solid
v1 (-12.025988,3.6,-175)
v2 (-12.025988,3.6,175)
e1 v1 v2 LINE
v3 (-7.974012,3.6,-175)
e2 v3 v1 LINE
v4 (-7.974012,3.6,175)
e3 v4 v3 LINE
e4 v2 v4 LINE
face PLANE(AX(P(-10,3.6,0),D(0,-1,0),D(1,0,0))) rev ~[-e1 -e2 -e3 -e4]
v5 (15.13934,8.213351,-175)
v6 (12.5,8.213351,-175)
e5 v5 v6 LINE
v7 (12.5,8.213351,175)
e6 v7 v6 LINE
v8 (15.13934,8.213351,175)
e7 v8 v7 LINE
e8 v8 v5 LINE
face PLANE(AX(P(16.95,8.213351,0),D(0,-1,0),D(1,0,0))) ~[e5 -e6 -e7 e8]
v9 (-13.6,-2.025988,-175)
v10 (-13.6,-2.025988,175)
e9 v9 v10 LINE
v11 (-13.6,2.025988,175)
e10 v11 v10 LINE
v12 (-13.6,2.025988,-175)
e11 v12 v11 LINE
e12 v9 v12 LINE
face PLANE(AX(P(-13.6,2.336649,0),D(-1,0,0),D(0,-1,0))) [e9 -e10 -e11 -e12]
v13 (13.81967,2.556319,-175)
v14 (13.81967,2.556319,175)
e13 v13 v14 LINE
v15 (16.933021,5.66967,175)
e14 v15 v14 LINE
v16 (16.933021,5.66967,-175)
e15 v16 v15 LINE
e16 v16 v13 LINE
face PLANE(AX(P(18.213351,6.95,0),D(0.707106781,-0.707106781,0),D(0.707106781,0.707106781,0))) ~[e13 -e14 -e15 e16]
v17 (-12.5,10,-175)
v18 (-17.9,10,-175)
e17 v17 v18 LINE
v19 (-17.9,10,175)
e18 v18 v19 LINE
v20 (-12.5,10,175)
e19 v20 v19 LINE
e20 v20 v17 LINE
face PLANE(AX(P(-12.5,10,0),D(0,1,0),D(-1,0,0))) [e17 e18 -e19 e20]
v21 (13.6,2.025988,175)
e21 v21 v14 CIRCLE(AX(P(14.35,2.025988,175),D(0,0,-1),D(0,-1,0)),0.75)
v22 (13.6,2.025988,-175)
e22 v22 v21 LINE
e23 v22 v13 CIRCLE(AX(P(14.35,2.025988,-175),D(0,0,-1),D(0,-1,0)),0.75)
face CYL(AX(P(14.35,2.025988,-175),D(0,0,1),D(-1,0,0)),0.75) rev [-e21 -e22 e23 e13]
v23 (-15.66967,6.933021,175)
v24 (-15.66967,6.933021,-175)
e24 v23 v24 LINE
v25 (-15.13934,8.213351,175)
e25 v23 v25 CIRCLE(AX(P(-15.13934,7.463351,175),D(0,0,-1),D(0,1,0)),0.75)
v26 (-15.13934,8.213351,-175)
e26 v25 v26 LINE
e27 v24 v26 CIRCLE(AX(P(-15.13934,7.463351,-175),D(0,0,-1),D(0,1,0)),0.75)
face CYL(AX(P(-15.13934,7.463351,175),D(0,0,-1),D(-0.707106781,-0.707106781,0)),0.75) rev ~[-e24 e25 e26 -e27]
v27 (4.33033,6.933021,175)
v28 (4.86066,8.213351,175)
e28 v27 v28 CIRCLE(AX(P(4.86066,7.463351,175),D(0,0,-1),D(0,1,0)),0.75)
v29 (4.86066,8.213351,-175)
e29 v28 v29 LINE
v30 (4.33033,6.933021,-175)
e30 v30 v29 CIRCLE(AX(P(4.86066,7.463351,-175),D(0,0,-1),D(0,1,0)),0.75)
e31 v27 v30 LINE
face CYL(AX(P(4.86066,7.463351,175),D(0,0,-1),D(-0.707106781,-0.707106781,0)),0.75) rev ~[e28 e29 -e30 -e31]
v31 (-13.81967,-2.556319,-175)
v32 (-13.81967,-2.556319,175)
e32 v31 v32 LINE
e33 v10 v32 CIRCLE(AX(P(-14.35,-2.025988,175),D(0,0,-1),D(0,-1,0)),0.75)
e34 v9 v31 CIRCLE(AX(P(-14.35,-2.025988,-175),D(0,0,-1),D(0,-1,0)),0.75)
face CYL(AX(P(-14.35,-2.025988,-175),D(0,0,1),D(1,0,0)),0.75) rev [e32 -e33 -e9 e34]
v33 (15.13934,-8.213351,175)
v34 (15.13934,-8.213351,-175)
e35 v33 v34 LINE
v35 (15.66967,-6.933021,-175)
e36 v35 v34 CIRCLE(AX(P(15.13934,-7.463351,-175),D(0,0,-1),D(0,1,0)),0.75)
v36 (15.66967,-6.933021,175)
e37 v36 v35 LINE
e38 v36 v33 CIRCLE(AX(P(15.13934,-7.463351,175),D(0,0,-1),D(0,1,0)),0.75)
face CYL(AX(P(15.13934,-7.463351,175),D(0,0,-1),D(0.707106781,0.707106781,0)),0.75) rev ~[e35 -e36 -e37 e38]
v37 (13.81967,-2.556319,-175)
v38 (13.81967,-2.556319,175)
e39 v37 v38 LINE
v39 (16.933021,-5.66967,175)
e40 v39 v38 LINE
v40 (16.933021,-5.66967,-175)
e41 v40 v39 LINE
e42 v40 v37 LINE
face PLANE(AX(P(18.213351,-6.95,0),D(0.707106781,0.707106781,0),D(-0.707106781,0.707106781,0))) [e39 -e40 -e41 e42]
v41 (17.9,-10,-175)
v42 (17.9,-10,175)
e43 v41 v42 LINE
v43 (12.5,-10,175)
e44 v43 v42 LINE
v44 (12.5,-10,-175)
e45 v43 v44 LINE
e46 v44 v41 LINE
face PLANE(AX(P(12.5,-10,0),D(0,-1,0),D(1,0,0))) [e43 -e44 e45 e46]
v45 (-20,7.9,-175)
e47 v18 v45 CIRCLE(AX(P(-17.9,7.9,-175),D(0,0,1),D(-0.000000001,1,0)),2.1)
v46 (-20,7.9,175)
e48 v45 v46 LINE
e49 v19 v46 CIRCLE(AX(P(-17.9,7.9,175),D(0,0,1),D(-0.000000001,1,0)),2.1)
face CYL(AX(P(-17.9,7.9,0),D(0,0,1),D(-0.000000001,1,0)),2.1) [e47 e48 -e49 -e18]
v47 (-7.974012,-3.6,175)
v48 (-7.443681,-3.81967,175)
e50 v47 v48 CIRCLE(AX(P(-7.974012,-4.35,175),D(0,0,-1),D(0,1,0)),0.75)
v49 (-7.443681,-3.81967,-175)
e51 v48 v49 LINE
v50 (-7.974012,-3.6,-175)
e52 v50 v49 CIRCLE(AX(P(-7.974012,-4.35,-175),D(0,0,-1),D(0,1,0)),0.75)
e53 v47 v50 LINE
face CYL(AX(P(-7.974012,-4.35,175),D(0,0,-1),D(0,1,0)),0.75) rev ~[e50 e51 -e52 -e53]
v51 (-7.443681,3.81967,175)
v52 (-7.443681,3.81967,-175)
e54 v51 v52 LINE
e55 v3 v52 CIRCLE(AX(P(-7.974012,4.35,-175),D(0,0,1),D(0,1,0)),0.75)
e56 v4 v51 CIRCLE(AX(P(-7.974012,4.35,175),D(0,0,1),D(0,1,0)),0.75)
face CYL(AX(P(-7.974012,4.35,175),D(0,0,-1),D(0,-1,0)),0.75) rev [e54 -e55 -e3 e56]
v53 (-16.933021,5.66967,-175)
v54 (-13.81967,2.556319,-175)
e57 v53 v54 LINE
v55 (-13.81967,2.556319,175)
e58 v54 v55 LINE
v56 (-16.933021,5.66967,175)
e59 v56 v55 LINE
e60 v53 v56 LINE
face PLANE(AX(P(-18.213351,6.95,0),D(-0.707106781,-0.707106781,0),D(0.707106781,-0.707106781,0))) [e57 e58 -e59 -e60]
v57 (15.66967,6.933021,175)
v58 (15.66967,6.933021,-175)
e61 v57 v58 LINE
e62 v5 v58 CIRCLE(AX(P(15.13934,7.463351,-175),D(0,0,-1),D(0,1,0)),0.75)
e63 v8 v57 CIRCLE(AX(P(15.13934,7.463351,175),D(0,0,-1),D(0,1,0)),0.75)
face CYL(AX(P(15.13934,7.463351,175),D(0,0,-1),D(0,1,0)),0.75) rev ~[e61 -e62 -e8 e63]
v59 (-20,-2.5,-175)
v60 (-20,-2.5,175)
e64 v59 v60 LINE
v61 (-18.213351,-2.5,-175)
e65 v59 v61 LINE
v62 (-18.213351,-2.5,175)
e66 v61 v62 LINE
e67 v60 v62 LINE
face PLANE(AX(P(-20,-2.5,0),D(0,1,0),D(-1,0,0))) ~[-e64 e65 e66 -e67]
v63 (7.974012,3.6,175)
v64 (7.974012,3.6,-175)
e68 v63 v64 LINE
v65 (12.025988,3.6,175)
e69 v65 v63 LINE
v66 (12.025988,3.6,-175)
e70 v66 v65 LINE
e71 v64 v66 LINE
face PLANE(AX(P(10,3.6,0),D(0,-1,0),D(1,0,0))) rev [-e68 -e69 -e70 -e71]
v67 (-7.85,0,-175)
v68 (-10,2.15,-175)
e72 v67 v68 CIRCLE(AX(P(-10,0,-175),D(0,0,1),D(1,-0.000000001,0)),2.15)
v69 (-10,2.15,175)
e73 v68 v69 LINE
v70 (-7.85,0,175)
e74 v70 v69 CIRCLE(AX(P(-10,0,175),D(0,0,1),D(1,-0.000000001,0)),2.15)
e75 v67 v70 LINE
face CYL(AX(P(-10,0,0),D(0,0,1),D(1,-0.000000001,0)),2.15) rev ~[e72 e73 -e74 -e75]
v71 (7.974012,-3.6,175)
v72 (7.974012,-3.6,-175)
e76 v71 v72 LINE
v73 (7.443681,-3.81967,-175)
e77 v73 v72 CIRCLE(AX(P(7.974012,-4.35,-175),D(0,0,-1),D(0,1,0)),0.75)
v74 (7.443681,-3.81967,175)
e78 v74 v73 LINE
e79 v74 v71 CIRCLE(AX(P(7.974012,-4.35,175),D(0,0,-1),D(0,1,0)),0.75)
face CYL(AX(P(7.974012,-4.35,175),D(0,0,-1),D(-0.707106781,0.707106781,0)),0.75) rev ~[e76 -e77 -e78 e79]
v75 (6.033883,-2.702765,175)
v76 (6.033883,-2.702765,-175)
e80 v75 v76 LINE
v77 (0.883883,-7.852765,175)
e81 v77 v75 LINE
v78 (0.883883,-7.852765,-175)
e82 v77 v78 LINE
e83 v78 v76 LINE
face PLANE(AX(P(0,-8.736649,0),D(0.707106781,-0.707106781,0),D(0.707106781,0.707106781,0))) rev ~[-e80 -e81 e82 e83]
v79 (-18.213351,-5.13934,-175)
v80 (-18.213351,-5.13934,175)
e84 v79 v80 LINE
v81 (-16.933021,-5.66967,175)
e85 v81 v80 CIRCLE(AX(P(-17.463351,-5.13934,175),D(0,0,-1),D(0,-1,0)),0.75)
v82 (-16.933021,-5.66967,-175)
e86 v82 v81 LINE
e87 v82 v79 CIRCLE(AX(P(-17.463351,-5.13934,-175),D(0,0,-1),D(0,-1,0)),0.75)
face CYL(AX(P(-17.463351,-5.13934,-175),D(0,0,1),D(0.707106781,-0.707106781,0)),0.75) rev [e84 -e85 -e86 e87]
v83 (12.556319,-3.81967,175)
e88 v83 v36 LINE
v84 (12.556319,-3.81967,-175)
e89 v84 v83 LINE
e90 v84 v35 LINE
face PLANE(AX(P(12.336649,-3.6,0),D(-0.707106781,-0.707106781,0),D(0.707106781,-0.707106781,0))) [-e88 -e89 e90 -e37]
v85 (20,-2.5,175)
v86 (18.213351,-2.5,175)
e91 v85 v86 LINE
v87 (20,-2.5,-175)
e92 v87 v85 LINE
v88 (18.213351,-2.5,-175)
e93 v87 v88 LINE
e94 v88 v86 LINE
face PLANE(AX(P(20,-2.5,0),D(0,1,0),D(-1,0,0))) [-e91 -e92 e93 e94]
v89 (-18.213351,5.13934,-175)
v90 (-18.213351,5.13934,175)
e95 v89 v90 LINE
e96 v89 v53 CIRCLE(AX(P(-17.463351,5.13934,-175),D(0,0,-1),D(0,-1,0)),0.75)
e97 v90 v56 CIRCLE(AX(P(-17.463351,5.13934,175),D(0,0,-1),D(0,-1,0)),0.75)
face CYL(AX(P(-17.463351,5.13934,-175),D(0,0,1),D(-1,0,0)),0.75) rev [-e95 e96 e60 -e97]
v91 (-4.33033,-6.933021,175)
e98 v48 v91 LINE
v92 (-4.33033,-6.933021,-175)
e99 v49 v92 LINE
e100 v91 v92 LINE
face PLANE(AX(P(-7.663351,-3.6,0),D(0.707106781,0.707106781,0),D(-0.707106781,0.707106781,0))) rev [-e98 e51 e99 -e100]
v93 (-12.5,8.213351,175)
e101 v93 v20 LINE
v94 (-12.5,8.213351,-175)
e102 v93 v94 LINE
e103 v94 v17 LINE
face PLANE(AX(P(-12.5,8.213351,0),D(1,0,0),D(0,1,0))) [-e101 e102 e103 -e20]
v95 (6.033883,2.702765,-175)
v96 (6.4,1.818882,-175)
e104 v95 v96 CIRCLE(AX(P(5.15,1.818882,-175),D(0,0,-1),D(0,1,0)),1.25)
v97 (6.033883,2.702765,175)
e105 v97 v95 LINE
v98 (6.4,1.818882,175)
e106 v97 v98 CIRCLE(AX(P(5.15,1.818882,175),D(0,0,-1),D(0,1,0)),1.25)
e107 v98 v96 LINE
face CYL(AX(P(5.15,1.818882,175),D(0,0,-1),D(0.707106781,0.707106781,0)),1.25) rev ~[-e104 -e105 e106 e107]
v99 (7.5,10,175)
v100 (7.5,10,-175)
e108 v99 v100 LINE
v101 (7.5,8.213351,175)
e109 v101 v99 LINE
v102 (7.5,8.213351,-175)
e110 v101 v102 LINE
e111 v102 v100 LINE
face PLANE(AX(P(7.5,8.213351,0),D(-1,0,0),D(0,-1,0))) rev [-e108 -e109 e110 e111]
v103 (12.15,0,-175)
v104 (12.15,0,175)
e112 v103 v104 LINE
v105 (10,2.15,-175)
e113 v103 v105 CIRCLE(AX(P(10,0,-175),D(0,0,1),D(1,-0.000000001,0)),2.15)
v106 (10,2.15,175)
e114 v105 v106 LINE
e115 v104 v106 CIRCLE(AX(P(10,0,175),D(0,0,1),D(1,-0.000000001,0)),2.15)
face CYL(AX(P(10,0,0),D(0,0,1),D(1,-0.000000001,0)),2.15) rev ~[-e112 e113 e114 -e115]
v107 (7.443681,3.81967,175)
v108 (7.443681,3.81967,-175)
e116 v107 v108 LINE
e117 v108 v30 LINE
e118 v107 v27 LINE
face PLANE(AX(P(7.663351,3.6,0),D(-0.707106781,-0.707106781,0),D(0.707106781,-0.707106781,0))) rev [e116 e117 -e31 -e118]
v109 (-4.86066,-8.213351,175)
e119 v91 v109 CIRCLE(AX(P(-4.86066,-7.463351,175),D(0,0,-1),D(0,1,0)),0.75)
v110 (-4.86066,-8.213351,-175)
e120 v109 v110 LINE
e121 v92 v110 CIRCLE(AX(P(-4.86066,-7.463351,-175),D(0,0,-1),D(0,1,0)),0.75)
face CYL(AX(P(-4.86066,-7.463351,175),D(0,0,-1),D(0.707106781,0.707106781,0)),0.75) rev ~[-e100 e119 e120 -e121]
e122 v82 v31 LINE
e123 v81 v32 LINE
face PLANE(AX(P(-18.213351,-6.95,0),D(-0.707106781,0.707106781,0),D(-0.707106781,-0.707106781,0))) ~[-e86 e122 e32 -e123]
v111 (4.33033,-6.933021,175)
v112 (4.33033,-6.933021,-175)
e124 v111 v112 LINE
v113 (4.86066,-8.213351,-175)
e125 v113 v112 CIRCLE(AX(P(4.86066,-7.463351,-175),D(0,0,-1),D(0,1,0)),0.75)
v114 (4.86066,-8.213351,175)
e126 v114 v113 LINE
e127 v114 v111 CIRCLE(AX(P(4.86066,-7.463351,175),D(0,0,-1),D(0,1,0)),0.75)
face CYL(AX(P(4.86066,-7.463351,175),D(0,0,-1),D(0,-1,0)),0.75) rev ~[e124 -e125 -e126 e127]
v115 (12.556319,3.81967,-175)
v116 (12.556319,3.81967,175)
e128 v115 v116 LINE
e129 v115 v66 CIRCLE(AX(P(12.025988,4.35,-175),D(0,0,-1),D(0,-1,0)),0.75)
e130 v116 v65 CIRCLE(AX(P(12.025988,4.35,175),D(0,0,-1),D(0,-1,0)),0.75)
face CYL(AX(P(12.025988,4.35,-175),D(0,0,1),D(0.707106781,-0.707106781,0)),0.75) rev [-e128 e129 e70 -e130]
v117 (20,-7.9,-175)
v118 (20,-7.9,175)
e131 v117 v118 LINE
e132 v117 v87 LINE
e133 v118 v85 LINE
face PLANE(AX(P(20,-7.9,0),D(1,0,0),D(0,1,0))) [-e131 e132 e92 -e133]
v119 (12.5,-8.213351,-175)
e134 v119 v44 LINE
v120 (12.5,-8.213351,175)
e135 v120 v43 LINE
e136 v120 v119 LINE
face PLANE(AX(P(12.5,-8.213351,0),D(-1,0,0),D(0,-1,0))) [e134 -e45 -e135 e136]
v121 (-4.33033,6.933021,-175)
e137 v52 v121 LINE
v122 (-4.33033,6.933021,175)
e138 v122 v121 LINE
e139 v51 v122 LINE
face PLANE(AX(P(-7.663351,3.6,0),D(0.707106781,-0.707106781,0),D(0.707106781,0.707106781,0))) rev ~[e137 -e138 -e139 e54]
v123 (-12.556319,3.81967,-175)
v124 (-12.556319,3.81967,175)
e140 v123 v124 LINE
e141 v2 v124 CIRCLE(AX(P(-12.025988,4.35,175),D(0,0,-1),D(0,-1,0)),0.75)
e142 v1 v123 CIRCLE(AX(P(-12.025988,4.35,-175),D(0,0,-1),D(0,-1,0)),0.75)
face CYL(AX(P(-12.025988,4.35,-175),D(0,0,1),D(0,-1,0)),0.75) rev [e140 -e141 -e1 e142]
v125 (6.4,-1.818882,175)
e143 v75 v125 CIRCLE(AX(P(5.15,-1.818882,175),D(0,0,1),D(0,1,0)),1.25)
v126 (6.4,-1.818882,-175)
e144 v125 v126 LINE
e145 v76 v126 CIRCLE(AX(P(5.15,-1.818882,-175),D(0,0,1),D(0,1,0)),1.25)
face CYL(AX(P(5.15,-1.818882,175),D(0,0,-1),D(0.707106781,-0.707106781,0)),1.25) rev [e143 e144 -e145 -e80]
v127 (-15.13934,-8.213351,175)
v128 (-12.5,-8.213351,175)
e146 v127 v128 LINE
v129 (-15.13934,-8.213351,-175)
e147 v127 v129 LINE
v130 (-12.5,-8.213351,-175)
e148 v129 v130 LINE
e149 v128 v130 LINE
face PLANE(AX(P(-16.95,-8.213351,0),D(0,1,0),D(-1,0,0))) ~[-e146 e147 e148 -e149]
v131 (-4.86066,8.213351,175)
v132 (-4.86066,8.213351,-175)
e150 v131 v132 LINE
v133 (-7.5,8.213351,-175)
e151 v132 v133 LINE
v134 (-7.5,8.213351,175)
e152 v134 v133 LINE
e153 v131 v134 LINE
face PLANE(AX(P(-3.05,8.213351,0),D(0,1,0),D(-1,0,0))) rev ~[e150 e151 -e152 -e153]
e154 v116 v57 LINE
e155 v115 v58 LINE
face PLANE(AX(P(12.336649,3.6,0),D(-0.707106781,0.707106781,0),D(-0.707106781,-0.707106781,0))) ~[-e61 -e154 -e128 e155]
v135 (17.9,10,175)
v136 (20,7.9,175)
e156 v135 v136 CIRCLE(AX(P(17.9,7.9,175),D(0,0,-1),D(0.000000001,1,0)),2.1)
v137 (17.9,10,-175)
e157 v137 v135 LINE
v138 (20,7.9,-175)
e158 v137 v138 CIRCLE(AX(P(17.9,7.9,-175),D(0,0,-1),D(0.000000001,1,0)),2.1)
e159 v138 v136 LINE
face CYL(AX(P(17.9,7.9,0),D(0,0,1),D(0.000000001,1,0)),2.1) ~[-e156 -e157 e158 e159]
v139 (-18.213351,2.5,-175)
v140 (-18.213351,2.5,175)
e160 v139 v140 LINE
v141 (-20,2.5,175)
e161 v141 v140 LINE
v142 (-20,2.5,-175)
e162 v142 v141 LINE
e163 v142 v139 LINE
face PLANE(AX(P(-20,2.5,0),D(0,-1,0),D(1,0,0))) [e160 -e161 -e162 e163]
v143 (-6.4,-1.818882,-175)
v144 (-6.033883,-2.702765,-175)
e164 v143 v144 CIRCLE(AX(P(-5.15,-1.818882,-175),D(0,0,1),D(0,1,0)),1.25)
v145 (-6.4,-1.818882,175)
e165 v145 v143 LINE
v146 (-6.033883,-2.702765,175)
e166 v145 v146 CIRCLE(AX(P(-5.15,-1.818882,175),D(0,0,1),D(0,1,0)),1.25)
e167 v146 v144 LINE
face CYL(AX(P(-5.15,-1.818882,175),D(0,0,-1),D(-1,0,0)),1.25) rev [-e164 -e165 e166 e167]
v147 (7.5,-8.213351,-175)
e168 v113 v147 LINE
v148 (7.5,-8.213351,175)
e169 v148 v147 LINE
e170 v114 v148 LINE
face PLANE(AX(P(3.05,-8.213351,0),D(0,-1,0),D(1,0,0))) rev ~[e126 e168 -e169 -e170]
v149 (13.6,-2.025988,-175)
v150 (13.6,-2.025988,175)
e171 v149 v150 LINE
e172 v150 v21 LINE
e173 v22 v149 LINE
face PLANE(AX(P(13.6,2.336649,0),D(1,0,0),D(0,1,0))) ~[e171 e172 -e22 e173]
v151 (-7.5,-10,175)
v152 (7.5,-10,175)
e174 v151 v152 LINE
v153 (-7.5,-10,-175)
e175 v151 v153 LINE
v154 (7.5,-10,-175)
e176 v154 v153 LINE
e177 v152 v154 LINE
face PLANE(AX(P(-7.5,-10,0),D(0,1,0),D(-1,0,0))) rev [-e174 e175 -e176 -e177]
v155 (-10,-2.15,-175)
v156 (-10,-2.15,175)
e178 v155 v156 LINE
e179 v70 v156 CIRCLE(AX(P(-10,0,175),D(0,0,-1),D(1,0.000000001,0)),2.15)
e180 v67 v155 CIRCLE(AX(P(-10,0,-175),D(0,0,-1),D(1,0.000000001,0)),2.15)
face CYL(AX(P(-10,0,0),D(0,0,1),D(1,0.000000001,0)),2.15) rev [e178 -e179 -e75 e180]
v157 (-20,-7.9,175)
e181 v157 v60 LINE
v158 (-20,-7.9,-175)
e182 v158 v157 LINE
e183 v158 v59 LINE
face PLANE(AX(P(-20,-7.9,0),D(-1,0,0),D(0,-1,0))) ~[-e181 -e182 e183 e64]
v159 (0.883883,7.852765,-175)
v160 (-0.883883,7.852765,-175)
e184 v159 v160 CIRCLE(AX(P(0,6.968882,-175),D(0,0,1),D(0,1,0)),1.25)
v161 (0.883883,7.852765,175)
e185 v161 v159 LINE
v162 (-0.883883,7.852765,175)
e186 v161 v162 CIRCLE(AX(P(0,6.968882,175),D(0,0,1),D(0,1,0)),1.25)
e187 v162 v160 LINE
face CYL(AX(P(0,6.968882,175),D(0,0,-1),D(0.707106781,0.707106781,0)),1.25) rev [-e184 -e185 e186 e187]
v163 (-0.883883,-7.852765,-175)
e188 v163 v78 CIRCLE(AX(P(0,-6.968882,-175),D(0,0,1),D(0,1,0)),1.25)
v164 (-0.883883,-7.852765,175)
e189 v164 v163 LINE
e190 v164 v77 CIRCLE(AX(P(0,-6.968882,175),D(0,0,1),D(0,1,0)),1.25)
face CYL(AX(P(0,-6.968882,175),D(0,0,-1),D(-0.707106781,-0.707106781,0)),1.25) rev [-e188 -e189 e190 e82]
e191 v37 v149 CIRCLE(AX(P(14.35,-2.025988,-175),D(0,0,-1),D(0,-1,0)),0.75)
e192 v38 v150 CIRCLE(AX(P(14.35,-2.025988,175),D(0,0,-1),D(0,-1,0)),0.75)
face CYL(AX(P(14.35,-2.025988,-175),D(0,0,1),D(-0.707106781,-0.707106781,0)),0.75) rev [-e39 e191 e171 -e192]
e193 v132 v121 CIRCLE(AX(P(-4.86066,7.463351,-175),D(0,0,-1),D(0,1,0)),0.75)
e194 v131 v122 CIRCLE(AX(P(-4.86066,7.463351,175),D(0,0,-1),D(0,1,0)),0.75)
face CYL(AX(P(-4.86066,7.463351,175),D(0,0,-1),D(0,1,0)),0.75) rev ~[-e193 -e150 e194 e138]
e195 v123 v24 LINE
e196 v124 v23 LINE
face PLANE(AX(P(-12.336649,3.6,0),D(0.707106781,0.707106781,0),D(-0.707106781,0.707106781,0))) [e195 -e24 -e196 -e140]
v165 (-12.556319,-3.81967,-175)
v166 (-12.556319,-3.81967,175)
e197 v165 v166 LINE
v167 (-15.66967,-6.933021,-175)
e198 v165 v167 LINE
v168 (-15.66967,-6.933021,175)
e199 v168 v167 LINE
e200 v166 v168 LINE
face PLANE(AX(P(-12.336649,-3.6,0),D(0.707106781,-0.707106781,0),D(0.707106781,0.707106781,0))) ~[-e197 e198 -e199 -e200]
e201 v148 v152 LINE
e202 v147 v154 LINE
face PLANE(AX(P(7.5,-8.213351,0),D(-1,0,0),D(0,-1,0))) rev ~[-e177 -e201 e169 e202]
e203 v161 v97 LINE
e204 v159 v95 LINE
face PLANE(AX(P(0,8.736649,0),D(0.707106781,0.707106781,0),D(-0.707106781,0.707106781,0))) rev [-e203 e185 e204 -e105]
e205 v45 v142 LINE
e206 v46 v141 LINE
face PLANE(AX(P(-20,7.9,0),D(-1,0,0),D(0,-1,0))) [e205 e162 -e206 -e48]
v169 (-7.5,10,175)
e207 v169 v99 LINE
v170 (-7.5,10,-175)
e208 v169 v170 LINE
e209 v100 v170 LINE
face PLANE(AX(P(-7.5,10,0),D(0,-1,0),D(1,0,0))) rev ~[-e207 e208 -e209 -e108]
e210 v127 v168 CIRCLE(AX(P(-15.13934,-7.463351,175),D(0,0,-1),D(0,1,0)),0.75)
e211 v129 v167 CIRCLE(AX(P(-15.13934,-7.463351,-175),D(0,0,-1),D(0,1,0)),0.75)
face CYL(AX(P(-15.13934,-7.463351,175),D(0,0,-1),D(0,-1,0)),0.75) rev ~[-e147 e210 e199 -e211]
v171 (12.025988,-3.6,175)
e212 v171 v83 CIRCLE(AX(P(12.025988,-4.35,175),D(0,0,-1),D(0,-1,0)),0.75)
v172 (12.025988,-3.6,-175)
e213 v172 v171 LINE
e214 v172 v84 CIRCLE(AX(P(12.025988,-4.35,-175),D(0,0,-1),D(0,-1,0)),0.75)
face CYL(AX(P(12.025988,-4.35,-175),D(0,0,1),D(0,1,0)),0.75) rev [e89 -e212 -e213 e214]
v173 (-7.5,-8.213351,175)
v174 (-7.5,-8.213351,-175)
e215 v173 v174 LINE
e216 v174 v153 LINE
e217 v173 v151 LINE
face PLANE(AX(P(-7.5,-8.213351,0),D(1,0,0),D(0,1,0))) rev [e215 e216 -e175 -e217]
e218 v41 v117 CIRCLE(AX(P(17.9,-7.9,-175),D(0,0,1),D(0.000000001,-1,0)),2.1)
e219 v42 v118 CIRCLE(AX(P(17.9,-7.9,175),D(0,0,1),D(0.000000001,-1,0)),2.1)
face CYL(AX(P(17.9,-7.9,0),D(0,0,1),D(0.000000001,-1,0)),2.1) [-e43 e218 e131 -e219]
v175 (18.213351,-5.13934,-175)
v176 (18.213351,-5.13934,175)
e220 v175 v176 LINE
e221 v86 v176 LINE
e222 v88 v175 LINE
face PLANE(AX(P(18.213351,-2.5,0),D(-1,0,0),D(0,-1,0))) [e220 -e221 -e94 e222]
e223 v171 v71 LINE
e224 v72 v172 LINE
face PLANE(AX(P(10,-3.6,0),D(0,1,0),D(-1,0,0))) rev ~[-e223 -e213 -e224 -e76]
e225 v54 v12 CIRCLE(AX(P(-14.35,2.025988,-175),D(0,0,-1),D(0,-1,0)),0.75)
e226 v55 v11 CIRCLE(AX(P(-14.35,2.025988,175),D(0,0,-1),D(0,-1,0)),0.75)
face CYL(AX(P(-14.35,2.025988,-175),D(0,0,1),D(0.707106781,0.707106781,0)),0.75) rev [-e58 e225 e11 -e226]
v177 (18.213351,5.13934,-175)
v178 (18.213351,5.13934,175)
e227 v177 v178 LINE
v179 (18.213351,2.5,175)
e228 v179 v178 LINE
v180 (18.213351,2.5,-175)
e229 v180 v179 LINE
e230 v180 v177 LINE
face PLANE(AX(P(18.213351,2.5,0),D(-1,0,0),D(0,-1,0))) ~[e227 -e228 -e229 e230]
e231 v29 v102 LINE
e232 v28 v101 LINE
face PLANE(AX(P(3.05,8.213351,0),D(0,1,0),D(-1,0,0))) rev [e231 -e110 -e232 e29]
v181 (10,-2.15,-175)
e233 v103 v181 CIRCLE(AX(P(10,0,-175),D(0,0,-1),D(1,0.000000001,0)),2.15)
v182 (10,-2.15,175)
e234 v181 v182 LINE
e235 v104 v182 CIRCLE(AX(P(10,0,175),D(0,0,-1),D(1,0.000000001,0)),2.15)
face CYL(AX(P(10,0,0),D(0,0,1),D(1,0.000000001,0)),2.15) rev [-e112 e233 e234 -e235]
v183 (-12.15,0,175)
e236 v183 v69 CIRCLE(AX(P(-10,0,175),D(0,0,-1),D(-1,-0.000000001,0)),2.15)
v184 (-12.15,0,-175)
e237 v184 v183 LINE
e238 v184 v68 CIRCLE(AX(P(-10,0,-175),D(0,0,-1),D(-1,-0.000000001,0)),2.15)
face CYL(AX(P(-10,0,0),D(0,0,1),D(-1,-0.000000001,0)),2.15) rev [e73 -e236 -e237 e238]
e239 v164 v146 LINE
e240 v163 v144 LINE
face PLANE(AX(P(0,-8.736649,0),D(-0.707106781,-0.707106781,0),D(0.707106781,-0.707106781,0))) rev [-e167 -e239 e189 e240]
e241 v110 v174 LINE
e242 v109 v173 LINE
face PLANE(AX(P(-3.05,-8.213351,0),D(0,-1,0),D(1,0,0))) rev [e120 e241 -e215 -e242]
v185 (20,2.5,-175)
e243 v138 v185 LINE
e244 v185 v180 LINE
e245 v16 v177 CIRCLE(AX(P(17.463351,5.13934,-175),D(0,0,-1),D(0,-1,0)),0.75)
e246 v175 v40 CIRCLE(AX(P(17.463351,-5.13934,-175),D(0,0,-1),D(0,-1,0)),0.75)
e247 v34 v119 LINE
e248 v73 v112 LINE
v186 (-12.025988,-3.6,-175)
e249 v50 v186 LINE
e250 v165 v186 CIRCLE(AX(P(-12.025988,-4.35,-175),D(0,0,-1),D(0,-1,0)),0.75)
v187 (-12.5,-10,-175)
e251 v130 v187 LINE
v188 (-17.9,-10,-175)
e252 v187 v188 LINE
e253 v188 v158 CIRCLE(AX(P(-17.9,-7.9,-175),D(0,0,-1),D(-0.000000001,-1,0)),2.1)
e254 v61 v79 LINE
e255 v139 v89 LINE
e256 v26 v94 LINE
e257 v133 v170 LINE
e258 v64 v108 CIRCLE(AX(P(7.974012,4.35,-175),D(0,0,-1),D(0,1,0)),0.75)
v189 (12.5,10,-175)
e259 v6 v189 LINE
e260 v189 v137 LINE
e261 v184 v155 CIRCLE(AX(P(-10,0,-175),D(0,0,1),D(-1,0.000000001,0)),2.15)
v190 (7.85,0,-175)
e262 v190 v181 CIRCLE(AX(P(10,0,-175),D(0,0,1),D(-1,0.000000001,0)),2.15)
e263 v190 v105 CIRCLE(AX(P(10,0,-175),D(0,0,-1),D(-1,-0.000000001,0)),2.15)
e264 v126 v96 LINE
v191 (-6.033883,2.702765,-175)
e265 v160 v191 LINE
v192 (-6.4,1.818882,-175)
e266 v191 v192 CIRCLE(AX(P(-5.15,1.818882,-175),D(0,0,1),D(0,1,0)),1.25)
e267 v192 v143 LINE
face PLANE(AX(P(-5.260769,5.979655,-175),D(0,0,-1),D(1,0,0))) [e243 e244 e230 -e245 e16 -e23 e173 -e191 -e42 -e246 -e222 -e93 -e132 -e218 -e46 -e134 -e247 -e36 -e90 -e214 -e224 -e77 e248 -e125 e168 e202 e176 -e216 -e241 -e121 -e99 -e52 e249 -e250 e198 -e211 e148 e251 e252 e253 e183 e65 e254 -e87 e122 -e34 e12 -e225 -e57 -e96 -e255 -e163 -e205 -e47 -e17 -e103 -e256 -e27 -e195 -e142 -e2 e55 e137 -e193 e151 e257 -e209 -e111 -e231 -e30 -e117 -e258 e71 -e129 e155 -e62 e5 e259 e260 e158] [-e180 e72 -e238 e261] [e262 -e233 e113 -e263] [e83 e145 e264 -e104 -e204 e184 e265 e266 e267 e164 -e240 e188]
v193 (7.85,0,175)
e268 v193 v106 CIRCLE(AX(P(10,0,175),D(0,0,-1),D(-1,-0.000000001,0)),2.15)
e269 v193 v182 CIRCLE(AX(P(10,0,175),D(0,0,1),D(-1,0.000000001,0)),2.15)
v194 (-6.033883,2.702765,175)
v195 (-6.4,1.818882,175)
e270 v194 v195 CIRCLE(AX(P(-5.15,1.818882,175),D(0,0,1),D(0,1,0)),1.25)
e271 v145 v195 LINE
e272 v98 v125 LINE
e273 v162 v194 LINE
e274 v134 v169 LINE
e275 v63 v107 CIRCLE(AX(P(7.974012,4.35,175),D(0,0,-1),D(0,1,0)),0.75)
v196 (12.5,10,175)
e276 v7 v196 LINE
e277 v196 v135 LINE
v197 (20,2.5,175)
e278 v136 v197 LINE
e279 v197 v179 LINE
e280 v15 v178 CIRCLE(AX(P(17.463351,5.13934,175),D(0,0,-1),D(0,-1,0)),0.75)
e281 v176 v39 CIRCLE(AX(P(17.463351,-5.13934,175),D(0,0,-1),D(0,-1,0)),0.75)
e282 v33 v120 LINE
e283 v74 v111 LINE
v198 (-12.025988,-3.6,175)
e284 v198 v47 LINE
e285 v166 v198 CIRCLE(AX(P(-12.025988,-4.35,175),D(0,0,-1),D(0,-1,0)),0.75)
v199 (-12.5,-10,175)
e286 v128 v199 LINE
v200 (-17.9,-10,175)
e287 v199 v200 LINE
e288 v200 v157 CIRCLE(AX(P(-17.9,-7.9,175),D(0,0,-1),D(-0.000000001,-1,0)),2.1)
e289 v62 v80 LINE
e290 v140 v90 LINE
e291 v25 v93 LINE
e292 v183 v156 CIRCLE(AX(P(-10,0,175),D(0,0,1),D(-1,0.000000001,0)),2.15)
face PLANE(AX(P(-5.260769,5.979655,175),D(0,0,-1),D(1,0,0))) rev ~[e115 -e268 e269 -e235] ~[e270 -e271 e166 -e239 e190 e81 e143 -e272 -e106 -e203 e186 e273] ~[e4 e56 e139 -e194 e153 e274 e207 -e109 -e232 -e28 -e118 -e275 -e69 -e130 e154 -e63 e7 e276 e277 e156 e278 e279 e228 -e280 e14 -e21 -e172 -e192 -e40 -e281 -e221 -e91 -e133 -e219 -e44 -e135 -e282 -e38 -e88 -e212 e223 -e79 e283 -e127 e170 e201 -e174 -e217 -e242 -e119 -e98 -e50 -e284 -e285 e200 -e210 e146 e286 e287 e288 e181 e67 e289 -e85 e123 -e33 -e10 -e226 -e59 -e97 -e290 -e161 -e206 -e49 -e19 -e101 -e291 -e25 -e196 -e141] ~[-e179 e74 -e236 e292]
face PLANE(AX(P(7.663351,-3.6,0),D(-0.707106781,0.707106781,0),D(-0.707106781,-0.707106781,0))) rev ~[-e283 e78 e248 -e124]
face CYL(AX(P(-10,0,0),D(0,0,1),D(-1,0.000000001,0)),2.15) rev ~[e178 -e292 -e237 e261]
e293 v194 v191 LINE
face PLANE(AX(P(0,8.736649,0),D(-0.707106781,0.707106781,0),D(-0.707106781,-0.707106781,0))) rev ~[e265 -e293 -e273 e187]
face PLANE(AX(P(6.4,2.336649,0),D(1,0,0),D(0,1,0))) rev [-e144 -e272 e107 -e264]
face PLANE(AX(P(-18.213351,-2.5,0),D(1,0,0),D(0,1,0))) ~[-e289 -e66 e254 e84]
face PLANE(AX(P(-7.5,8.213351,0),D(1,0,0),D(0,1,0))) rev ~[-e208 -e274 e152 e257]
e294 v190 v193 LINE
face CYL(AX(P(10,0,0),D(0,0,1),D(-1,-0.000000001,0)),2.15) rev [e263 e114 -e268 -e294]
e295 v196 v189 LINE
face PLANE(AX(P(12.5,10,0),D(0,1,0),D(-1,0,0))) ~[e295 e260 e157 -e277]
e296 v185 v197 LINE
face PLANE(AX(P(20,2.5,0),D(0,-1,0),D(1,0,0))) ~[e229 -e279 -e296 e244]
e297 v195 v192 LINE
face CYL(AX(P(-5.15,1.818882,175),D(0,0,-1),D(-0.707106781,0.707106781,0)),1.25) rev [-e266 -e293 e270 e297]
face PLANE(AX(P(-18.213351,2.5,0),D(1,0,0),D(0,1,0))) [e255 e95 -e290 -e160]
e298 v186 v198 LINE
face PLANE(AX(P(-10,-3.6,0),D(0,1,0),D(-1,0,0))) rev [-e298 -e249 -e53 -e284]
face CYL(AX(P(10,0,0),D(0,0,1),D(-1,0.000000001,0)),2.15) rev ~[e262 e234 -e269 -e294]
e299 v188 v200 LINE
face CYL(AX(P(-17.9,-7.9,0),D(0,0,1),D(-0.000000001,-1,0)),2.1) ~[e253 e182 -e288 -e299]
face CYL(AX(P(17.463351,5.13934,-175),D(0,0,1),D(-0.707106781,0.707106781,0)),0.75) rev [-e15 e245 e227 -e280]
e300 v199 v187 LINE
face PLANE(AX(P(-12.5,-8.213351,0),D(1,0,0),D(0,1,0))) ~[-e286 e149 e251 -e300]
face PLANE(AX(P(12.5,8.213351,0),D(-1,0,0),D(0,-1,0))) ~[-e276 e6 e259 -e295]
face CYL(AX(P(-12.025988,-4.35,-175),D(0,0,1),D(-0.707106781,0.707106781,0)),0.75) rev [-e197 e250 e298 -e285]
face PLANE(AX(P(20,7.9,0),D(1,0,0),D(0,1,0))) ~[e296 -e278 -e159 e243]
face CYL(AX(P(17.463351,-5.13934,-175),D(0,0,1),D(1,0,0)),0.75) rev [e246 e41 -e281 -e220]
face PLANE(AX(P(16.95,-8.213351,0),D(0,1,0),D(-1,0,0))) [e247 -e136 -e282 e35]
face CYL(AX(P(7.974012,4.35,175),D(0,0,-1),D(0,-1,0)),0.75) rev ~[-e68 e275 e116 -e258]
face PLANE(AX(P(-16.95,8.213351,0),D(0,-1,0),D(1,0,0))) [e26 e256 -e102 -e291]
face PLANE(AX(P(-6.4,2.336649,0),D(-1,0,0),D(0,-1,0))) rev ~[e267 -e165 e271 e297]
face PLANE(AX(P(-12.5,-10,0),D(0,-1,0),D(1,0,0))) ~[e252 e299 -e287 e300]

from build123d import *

# Parameters (mm, degrees)
BOSS_EXTRUDE1_DEPTH = 175
BOSS_EXTRUDE2_DEPTH = 175
FILLET1_R           = 0.75
FILLET2_R           = 1.25


with BuildPart() as part:
    # Sketch3 → Boss-Extrude1 (new, symmetric)
    with BuildSketch(Plane.XY):
        with BuildLine():
            Line((12.5, -10), (17.9, -10))
            ThreePointArc((17.9, -10), (19.38492424, -9.38492424), (20, -7.9))
            Line((20, -7.9), (20, -2.5))
            Line((20, -2.5), (18.213351365, -2.5))
            Line((18.213351365, -2.5), (18.213351365, -6.95))
            Line((18.213351365, -6.95), (13.6, -2.336648635))
            Line((13.6, -2.336648635), (13.6, 0))
            Line((13.6, 0), (12.15, 0))
            ThreePointArc((12.15, 0), (11.52027958, -1.52027958), (10, -2.15))
            Line((10, -2.15), (10, -3.6))
            Line((10, -3.6), (12.336648635, -3.6))
            Line((12.336648635, -3.6), (16.95, -8.213351365))
            Line((16.95, -8.213351365), (12.5, -8.213351365))
            Line((12.5, -8.213351365), (12.5, -10))
        make_face()
    extrude(amount=BOSS_EXTRUDE1_DEPTH, both=True)

    # Sketch4 → Boss-Extrude2 (add, symmetric)
    with BuildSketch(Plane.XY):
        with BuildLine():
            Line((10, -3.6), (7.663351365, -3.6))
            Line((7.663351365, -3.6), (3.05, -8.213351365))
            Line((3.05, -8.213351365), (7.5, -8.213351365))
            Line((7.5, -8.213351365), (7.5, -10))
            Line((7.5, -10), (0, -10))
            Line((0, -10), (0, -8.736648635))
            Line((0, -8.736648635), (6.4, -2.336648635))
            Line((6.4, -2.336648635), (6.4, 0))
            Line((6.4, 0), (7.85, 0))
            ThreePointArc((7.85, 0), (8.47972042, -1.52027958), (10, -2.15))
            Line((10, -2.15), (10, -3.6))
        make_face()
    extrude(amount=BOSS_EXTRUDE2_DEPTH, both=True)

    # Mirror1: part across plane


with BuildPart() as part_1:
    add(part.part)
    add(part.part.mirror(Plane(origin=(0, 0, 0), x_dir=(0, 0, 1), z_dir=(1, 0, 0))))

    # Mirror2: part across plane


with BuildPart() as part_2:
    add(part_1.part)
    add(part_1.part.mirror(Plane.ZX))

    # Fillet1
    fillet1_edges = [part_2.edges().sort_by_distance(p)[0] for p in [
        (18.213351365, 6.95, 0),
        (13.6, 2.336648635, 0),
        (12.336648635, 3.6, 0),
        (16.95, 8.213351365, 0),
        (3.05, 8.213351365, 0),
        (7.663351365, 3.6, 0),
        (-18.213351365, 6.95, 0),
        (-13.6, 2.336648635, 0),
        (-7.663351365, 3.6, 0),
        (-12.336648635, 3.6, 0),
        (-16.95, 8.213351365, 0),
        (-3.05, 8.213351365, 0),
        (16.95, -8.213351365, 0),
        (12.336648635, -3.6, 0),
        (13.6, -2.336648635, 0),
        (18.213351365, -6.95, 0),
        (3.05, -8.213351365, 0),
        (7.663351365, -3.6, 0),
        (-18.213351365, -6.95, 0),
        (-13.6, -2.336648635, 0),
        (-12.336648635, -3.6, 0),
        (-16.95, -8.213351365, 0),
        (-3.05, -8.213351365, 0),
        (-7.663351365, -3.6, 0),
    ]]
    fillet(fillet1_edges, radius=FILLET1_R)

    # Fillet2
    fillet2_edges = [part_2.edges().sort_by_distance(p)[0] for p in [
        (6.4, 2.336648635, 0),
        (0, 8.736648635, 0),
        (-6.4, 2.336648635, 0),
        (6.4, -2.336648635, 0),
        (-6.4, -2.336648635, 0),
        (0, -8.736648635, 0),
    ]]
    fillet(fillet2_edges, radius=FILLET2_R)


solid = part_2.part
